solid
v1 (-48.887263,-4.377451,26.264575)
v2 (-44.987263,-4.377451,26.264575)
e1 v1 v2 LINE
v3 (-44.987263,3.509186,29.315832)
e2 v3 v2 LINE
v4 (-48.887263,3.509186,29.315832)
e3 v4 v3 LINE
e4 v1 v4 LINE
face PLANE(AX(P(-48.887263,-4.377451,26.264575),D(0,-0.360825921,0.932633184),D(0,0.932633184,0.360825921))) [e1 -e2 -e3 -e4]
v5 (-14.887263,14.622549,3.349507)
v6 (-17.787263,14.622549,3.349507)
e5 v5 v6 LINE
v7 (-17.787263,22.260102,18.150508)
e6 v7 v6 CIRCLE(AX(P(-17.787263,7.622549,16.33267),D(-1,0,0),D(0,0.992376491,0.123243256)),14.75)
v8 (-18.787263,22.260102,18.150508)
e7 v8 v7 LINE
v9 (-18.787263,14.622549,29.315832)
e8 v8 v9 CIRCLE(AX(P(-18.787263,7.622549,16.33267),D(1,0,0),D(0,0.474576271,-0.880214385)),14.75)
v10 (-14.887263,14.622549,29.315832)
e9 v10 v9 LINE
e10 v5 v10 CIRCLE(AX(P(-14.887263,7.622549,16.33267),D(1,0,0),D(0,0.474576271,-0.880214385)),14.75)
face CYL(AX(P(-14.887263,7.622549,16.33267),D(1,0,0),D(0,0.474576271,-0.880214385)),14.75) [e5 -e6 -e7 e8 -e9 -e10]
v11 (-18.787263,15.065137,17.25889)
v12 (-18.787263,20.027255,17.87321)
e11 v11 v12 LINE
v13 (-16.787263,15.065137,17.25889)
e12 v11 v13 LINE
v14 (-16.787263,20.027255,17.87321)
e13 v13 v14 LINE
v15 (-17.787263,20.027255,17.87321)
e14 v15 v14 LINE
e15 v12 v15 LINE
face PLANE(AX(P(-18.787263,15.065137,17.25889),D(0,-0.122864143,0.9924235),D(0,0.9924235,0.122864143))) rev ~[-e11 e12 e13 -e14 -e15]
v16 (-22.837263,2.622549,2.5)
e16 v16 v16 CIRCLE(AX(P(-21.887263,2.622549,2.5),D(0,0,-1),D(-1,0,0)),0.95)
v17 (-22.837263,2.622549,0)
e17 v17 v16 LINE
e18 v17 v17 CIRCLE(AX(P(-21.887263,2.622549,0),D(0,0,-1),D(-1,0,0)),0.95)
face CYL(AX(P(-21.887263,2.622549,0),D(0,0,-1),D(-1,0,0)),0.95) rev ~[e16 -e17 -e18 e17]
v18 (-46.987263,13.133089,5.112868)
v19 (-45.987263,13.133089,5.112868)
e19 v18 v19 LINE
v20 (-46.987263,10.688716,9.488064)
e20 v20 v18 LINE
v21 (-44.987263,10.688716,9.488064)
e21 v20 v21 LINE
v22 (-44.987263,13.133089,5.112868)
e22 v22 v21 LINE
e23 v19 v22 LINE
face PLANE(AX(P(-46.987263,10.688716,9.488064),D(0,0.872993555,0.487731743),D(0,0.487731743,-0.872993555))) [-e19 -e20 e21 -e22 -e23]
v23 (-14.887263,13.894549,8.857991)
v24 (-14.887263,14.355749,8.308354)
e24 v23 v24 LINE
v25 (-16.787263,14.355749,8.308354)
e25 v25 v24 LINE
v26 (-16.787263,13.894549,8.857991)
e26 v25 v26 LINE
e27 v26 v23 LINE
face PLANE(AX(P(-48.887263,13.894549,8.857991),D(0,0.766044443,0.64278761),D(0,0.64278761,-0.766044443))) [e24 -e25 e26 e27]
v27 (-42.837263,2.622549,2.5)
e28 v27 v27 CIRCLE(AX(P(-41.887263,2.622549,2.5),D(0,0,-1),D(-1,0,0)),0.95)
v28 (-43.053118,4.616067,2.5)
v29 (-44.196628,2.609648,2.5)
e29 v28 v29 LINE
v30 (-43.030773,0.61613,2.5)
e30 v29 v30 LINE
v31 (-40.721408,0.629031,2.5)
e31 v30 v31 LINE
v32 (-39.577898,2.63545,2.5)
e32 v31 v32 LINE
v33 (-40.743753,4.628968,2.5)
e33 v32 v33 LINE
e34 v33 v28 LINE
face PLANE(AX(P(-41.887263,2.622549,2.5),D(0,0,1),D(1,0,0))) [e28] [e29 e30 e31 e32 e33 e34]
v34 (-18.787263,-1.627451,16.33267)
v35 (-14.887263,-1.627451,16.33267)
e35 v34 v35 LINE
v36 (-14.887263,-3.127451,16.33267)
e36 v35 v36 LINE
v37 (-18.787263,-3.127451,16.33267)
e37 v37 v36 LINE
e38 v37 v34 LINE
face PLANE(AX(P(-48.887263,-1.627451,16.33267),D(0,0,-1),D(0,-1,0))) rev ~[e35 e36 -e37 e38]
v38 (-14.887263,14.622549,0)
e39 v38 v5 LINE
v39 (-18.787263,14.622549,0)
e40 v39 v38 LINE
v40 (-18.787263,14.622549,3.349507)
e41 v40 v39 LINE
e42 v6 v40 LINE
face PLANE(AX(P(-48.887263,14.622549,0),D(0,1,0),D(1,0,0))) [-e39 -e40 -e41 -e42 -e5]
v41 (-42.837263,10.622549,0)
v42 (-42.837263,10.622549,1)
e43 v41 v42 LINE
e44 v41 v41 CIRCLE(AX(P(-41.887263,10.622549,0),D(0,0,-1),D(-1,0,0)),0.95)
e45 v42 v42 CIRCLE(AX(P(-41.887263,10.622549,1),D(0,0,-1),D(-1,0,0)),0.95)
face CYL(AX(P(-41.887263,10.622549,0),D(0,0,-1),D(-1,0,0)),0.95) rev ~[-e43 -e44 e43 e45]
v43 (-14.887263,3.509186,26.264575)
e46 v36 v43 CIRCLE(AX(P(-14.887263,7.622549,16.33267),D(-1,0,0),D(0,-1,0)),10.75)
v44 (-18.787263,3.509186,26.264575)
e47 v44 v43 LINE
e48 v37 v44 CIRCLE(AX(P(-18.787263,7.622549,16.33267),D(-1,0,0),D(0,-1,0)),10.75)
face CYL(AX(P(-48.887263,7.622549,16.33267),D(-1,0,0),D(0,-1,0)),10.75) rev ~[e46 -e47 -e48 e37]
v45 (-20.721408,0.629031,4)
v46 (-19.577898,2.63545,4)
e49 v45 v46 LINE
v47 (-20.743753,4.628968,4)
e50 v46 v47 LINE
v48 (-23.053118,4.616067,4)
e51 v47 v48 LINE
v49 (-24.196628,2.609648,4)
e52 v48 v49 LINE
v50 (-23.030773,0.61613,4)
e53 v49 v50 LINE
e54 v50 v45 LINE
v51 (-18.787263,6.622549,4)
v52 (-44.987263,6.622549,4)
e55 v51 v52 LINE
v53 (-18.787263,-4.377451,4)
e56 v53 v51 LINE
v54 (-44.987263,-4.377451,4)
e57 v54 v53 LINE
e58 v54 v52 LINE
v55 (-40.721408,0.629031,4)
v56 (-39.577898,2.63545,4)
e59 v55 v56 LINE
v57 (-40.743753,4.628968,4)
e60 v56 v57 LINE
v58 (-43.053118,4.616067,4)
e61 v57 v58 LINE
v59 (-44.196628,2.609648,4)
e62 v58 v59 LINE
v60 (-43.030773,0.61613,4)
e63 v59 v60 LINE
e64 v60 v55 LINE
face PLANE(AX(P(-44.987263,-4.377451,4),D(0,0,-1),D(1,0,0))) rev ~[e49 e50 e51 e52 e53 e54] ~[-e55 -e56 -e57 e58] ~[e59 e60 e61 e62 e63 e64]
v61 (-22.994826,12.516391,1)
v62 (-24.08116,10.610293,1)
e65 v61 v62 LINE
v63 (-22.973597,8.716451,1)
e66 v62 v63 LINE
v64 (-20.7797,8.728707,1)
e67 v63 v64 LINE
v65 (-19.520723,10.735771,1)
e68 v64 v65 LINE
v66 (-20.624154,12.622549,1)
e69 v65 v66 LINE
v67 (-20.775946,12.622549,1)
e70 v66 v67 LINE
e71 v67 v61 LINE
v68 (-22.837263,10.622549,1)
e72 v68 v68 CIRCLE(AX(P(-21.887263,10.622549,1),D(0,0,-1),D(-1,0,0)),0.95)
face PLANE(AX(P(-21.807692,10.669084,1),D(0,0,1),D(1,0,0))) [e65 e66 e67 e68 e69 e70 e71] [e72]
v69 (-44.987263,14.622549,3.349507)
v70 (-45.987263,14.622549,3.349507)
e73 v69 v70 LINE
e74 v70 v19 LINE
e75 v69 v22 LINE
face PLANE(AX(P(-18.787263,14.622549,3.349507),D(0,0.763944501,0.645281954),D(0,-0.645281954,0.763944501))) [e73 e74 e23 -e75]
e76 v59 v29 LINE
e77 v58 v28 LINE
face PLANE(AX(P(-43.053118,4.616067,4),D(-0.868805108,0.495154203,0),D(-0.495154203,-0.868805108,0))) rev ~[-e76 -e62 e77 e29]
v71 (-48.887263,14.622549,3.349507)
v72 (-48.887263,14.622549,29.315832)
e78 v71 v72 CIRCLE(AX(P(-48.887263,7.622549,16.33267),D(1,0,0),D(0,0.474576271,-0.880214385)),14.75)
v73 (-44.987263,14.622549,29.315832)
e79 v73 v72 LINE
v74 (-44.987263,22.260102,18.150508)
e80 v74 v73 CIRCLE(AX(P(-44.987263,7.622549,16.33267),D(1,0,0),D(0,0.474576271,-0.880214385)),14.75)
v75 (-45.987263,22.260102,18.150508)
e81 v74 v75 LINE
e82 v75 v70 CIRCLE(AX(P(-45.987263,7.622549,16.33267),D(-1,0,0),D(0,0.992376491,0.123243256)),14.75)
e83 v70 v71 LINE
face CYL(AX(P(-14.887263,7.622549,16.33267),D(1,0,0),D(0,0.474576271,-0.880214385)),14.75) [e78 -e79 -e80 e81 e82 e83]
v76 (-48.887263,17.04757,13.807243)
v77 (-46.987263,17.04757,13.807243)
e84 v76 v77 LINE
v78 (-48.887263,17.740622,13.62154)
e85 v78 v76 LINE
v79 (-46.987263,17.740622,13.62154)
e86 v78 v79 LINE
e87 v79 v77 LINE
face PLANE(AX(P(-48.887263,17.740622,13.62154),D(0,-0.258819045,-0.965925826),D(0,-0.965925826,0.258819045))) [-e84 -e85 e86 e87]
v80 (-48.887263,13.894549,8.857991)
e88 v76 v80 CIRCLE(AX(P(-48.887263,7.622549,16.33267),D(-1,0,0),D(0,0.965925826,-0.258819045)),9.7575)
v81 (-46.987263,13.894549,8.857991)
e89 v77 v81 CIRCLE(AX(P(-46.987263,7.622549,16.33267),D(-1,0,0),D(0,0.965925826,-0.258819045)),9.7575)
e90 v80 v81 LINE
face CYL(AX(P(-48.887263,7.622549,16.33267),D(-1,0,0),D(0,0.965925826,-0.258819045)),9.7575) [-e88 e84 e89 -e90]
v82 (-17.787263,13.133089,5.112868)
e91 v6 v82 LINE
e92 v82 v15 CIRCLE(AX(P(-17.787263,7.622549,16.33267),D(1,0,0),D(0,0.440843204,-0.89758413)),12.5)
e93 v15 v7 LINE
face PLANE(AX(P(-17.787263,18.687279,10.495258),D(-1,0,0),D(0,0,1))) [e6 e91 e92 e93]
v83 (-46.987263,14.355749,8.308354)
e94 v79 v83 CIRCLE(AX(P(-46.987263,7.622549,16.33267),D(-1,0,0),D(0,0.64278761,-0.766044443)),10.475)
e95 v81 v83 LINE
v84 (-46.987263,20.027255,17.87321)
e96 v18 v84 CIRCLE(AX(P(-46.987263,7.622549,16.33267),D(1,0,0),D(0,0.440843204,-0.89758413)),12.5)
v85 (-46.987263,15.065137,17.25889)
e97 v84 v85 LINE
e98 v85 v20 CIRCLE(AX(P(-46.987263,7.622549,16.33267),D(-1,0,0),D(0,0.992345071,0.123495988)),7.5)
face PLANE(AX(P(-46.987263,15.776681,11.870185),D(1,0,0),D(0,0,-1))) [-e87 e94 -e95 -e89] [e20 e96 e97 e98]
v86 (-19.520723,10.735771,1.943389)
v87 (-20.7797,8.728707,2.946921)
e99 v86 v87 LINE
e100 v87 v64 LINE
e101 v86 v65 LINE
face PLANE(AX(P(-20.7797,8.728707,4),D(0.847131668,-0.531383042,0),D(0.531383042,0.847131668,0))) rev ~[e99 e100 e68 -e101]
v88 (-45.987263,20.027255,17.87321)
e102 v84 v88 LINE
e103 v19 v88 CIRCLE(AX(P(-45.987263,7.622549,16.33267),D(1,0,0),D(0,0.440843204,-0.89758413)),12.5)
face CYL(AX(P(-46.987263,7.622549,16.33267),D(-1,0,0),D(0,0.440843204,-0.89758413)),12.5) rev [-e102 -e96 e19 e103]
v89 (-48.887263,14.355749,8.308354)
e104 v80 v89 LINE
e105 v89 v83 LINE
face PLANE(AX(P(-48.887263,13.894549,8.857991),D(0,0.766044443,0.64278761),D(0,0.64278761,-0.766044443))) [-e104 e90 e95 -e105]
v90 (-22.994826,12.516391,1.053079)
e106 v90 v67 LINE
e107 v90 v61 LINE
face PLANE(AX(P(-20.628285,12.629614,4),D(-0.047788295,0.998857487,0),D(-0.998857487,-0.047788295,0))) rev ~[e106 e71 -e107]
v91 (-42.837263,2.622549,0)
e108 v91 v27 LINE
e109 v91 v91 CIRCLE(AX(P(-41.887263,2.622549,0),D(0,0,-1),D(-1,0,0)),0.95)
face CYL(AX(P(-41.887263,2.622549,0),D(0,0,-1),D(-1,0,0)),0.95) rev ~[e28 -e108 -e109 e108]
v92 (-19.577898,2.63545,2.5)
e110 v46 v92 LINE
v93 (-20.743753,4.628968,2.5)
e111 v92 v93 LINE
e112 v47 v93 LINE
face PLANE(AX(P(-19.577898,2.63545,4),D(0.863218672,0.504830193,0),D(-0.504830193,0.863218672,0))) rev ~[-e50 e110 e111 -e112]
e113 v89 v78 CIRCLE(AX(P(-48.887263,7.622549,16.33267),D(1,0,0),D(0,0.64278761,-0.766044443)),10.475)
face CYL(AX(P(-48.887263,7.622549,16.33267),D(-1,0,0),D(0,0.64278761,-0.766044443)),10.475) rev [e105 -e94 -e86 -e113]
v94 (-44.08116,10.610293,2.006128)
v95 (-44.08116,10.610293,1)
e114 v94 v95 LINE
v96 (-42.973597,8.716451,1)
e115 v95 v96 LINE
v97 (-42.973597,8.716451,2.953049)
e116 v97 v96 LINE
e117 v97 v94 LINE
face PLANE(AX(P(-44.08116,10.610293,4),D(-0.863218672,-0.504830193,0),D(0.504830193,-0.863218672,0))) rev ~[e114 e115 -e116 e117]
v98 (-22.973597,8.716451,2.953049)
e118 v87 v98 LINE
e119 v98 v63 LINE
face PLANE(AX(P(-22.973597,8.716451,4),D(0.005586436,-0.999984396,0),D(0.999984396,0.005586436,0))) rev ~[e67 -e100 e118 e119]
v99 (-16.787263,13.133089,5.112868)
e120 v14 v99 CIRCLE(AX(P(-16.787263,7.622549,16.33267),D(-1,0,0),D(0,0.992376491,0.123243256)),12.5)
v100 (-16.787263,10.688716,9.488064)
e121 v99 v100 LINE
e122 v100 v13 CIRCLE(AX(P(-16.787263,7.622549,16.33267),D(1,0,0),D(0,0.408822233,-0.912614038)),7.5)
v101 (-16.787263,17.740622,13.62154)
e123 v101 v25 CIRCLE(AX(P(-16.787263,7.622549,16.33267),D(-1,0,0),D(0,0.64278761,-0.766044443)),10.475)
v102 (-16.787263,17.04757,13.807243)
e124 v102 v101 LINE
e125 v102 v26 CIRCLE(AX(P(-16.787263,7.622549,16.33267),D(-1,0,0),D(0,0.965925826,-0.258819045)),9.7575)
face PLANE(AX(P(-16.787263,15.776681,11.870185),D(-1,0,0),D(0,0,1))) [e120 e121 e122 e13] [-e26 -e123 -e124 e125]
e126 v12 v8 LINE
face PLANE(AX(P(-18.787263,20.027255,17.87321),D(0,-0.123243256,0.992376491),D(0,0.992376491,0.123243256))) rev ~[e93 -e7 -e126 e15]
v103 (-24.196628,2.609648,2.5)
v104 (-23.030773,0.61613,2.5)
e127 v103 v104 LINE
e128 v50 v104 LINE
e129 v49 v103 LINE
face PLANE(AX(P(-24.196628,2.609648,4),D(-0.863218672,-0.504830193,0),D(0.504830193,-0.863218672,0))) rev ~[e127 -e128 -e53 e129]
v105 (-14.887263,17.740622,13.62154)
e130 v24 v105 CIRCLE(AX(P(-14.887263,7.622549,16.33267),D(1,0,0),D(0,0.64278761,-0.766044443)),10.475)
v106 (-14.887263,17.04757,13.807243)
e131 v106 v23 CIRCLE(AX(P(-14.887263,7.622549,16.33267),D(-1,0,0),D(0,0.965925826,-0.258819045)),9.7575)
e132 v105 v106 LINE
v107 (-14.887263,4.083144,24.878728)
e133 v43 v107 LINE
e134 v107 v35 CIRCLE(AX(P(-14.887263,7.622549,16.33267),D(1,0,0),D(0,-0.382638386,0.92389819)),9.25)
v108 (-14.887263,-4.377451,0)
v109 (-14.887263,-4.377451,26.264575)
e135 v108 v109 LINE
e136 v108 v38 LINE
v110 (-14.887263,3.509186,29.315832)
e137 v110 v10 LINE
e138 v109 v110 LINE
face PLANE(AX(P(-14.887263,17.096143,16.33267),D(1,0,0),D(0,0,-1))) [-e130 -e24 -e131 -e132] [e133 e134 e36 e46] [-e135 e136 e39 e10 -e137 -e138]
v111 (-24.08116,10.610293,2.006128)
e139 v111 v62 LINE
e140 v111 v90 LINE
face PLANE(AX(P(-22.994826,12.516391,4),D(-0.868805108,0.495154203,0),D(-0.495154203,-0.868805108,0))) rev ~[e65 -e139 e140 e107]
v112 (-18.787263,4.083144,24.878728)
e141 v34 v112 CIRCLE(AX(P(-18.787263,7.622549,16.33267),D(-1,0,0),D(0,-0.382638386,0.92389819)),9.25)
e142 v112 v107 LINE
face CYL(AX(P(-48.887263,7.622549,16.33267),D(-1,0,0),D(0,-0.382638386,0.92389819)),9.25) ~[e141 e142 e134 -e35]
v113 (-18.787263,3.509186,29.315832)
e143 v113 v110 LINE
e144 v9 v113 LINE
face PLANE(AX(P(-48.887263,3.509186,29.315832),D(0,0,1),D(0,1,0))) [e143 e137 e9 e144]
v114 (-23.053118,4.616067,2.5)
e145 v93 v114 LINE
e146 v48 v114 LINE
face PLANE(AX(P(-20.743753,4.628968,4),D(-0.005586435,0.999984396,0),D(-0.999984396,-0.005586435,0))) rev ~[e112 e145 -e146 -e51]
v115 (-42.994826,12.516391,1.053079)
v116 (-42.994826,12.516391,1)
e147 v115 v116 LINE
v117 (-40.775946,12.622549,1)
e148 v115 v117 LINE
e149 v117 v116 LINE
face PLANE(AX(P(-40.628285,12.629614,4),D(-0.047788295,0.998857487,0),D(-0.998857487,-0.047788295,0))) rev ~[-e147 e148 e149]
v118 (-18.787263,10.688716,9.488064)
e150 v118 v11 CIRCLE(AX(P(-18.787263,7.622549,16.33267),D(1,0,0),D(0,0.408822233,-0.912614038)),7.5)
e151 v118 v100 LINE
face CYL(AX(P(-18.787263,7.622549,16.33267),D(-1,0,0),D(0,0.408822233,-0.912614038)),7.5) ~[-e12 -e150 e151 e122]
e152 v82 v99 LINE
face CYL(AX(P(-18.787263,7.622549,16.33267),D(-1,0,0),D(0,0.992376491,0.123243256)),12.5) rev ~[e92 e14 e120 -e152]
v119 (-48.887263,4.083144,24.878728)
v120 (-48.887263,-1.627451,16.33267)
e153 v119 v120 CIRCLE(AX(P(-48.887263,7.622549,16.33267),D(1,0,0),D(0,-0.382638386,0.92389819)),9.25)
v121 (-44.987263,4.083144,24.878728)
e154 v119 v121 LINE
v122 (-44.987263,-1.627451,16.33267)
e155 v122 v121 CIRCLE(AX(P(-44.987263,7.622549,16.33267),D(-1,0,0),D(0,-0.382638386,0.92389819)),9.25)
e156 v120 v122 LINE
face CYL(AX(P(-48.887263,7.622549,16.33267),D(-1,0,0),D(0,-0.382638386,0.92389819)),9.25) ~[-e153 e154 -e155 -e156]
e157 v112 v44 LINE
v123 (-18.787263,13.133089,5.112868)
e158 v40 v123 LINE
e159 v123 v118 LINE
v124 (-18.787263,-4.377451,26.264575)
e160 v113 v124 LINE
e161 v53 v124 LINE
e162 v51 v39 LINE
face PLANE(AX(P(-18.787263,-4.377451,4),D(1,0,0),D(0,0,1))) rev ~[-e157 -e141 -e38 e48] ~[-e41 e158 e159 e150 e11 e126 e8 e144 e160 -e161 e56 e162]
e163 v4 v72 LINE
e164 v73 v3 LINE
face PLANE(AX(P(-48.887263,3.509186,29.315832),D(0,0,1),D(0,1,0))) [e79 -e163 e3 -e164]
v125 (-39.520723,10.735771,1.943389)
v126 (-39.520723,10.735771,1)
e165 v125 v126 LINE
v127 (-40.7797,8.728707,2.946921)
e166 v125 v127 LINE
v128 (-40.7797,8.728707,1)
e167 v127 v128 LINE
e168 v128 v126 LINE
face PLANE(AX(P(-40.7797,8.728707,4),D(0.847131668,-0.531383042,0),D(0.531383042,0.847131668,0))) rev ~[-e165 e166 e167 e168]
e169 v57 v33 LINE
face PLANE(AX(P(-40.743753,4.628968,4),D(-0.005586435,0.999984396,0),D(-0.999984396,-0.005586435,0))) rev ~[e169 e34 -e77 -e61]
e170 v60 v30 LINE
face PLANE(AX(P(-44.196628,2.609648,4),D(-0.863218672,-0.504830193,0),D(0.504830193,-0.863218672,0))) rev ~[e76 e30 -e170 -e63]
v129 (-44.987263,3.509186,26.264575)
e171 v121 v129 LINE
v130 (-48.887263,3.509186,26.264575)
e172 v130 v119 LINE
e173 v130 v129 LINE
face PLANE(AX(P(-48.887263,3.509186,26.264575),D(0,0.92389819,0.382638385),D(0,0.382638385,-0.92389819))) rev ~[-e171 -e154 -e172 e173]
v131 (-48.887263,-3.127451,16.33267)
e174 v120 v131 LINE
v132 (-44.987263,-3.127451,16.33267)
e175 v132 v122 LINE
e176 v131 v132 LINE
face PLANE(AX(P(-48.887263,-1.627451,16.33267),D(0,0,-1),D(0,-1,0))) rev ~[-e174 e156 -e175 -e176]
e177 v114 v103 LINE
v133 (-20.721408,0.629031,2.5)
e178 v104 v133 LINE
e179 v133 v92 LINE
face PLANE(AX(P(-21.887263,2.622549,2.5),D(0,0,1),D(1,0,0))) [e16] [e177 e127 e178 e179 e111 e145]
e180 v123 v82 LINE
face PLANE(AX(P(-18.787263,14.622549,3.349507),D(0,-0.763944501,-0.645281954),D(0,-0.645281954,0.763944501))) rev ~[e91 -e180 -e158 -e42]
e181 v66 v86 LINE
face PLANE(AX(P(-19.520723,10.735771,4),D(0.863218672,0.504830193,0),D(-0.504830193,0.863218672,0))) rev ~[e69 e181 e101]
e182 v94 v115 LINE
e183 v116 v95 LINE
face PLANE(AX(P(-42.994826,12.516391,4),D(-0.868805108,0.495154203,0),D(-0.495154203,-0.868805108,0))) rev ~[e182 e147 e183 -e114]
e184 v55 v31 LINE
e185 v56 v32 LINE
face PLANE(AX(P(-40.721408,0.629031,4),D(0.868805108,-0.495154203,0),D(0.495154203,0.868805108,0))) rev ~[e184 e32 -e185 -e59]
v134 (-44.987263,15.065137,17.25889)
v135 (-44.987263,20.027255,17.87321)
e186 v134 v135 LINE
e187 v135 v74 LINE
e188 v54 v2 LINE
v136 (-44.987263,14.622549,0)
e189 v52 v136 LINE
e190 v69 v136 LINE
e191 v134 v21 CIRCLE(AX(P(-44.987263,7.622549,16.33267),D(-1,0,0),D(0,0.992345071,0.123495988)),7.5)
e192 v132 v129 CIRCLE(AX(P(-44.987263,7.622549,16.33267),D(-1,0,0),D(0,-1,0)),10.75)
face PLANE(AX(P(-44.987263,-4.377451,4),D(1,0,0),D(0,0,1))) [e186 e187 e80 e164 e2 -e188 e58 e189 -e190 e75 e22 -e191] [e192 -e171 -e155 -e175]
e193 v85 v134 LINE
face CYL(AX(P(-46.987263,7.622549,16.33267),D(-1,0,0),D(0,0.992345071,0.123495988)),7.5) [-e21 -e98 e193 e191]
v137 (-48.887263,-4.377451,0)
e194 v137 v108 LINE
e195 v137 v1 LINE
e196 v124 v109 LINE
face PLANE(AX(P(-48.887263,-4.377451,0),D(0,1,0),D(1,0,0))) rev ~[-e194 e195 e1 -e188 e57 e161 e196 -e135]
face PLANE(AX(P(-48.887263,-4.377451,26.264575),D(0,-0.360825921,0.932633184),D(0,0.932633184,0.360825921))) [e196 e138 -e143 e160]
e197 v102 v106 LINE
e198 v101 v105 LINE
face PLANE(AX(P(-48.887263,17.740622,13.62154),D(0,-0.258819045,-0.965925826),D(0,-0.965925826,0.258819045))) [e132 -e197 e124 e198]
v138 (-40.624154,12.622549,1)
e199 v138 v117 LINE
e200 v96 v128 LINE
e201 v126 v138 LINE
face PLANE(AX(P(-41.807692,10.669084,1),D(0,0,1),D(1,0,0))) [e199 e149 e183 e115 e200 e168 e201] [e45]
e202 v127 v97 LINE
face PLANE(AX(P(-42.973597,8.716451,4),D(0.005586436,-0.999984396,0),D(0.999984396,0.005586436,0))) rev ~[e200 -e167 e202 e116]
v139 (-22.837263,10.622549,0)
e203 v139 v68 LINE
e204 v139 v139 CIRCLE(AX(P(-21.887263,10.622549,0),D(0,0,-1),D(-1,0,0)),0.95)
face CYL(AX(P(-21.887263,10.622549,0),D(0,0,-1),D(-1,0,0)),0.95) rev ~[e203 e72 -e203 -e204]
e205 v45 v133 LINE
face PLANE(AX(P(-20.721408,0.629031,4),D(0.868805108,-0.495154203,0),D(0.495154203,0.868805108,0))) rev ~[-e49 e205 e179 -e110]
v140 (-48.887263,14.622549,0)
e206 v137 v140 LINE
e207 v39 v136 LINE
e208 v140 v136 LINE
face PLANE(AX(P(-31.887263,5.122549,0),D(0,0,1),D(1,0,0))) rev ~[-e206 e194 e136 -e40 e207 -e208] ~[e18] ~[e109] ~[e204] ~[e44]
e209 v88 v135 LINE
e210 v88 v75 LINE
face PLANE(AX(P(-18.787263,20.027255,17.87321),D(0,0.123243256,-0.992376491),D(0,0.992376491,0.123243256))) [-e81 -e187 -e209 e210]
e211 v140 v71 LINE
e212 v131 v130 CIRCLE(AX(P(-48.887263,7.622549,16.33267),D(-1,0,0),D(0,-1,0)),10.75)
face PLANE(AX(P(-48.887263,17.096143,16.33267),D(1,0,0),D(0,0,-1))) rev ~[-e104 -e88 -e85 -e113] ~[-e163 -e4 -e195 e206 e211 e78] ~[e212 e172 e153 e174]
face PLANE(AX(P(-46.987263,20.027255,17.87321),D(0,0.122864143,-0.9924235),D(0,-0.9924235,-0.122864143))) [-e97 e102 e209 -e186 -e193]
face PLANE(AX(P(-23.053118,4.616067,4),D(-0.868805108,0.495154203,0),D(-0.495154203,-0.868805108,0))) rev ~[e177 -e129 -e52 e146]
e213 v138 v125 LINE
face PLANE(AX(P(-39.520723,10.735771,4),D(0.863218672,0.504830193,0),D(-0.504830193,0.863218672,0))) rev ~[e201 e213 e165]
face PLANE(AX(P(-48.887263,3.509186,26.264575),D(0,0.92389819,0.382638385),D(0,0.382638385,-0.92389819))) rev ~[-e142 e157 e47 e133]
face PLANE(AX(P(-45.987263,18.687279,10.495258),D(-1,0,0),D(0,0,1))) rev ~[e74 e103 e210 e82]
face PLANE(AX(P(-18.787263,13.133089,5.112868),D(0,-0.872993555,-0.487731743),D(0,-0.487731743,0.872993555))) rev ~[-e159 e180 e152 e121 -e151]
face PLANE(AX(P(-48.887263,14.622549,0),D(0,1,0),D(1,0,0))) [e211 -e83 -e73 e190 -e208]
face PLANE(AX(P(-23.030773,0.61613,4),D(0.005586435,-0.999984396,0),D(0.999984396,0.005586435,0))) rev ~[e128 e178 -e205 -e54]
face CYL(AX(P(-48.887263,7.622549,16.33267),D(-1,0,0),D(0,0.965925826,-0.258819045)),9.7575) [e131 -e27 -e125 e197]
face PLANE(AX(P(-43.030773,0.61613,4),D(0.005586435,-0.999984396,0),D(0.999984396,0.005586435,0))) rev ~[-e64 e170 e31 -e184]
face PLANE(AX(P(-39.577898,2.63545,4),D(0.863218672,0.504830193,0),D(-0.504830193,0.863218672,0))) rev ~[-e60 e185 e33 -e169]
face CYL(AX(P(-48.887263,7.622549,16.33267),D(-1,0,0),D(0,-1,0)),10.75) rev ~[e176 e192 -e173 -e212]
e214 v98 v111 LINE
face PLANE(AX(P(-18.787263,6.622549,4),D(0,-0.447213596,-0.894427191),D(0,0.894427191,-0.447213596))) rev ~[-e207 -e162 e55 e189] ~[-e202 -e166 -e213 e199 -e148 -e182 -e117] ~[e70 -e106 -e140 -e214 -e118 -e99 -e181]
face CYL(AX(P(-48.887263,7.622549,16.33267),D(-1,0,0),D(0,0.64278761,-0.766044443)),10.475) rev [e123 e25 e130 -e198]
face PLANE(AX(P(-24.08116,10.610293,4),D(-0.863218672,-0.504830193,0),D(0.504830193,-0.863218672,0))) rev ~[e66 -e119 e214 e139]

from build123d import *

# Parameters (mm, degrees)
CROQUIS1_W              = 34
CROQUIS1_H              = 19
SALIENTE_EXTRUIR1_DEPTH = 35
CROQUIS2_W              = 26.2
CROQUIS2_H              = 31
CORTAR_EXTRUIR1_DEPTH   = 25
CORTAR_EXTRUIR3_DEPTH   = 26.2
SALIENTE_EXTRUIR2_DEPTH = 34
CROQUIS10_W             = 26.2
CROQUIS10_H             = 25.966324345
CORTAR_EXTRUIR4_DEPTH   = 10
CORTAR_EXTRUIR5_START   = -34
CORTAR_EXTRUIR5_DEPTH   = 34
CORTAR_EXTRUIR6_DEPTH   = 2
CORTAR_EXTRUIR7_START   = 28.2
CORTAR_EXTRUIR7_DEPTH   = 28.2
CORTAR_EXTRUIR8_DEPTH   = 1
CORTAR_EXTRUIR9_DEPTH   = 27.2
CORTAR_EXTRUIR10_START  = -34
CORTAR_EXTRUIR10_DEPTH  = 34
CROQUIS18_R             = 0.95
CORTAR_EXTRUIR11_DEPTH  = 4
CORTAR_EXTRUIR12_DEPTH  = 1.5
CORTAR_EXTRUIR13_DEPTH  = 3


with BuildPart() as part:
    # Croquis1 → Saliente-Extruir1 (new body)
    with BuildSketch(Plane.XY):
        with Locations((-31.887263086, 5.12254902)):
            Rectangle(CROQUIS1_W, CROQUIS1_H)
    extrude(amount=SALIENTE_EXTRUIR1_DEPTH)

    # Croquis2 → Cortar-Extruir1 (cut)
    with BuildSketch(Plane.XZ.offset(4.37745098)):
        with Locations((-31.887263086, 19.5)):
            Rectangle(CROQUIS2_W, CROQUIS2_H)
    extrude(amount=-CORTAR_EXTRUIR1_DEPTH, mode=Mode.SUBTRACT)

    # Croquis4 → Cortar-Extruir3 (cut)
    with BuildSketch(Plane.ZY.offset(18.787263086)):
        Polygon((4, 14.62254902), (4, 6.62254902), (0, 14.62254902), align=None)
    extrude(amount=CORTAR_EXTRUIR3_DEPTH, mode=Mode.SUBTRACT)

    # Croquis9 → Saliente-Extruir2 (add)
    with BuildSketch(Plane(origin=(-14.887263086, 0, 0), x_dir=(0, 0, -1), z_dir=(1, 0, 0))):
        with BuildLine():
            Line((-29.315831827, 14.62254902), (-3.349507482, 14.62254902))
            ThreePointArc((-3.349507482, 14.62254902), (-16.332669655, 22.37254902), (-29.315831827, 14.62254902))
        make_face()
    extrude(amount=-SALIENTE_EXTRUIR2_DEPTH)

    # Croquis10 → Cortar-Extruir4 (cut)
    with BuildSketch(Plane.XZ.offset(-14.62254902)):
        with Locations((-31.887263086, 16.332669655)):
            Rectangle(CROQUIS10_W, CROQUIS10_H)
    extrude(amount=-CORTAR_EXTRUIR4_DEPTH, mode=Mode.SUBTRACT)

    # Croquis11 → Cortar-Extruir5 (cut)
    with BuildSketch(Plane(origin=(-14.887263086, 0, 0), x_dir=(0, 0, -1), z_dir=(1, 0, 0)).offset(CORTAR_EXTRUIR5_START)):
        with BuildLine():
            Line((-26.264575199, 3.509186373), (-24.878727914, 4.083143951))
            ThreePointArc((-24.878727914, 4.083143951), (-21.471881808, -0.068419609), (-16.332669655, -1.62745098))
            Line((-16.332669655, -1.62745098), (-16.332669655, -3.12745098))
            ThreePointArc((-16.332669655, -3.12745098), (-22.305267563, -1.31560371), (-26.264575199, 3.509186373))
        make_face()
        with BuildLine():
            Line((-13.621540157, 17.74062205), (-13.807242822, 17.04757027))
            ThreePointArc((-13.807242822, 17.04757027), (-11.089968726, 15.851941052), (-8.857991001, 13.894549121))
            Line((-8.857991001, 13.894549121), (-8.308354113, 14.355749231))
            ThreePointArc((-8.308354113, 14.355749231), (-10.704456257, 16.457074414), (-13.621540157, 17.74062205))
        make_face()
    extrude(amount=CORTAR_EXTRUIR5_DEPTH, mode=Mode.SUBTRACT)

    # Croquis12 → Cortar-Extruir6 (cut)
    with BuildSketch(Plane.ZY.offset(18.787263086)):
        with BuildLine():
            Line((17.258889566, 15.065137056), (17.873210354, 20.027255157))
            ThreePointArc((17.873210354, 20.027255157), (10.39091869, 18.620075808), (5.112868034, 13.133089064))
            Line((5.112868034, 13.133089064), (9.488064371, 10.688715764))
            ThreePointArc((9.488064371, 10.688715764), (12.652304566, 14.157448622), (17.258889566, 15.065137056))
        make_face()
    extrude(amount=-CORTAR_EXTRUIR6_DEPTH, mode=Mode.SUBTRACT)

    # Croquis14 → Cortar-Extruir7 (cut)
    with BuildSketch(Plane.ZY.offset(18.787263086).offset(CORTAR_EXTRUIR7_START)):
        with BuildLine():
            Line((17.873210354, 20.027255157), (17.258889566, 15.065137056))
            ThreePointArc((17.258889566, 15.065137056), (12.652304566, 14.157448622), (9.488064371, 10.688715764))
            Line((9.488064371, 10.688715764), (5.112868034, 13.133089064))
            ThreePointArc((5.112868034, 13.133089064), (10.39091869, 18.620075808), (17.873210354, 20.027255157))
        make_face()
    extrude(amount=-CORTAR_EXTRUIR7_DEPTH, mode=Mode.SUBTRACT)

    # Croquis15 → Cortar-Extruir8 (cut)
    with BuildSketch(Plane.ZY.offset(18.787263086)):
        with BuildLine():
            Line((17.873210354, 20.027255157), (18.15050768, 22.260102262))
            ThreePointArc((18.15050768, 22.260102262), (9.568856329, 20.730307382), (3.349507482, 14.62254902))
            Line((3.349507482, 14.62254902), (5.112868034, 13.133089064))
            ThreePointArc((5.112868034, 13.133089064), (10.39091869, 18.620075808), (17.873210354, 20.027255157))
        make_face()
    extrude(amount=-CORTAR_EXTRUIR8_DEPTH, mode=Mode.SUBTRACT)

    # Croquis15<2> → Cortar-Extruir9 (cut)
    with BuildSketch(Plane.ZY.offset(18.787263086)):
        with BuildLine():
            Line((17.873210354, 20.027255157), (18.15050768, 22.260102262))
            ThreePointArc((18.15050768, 22.260102262), (9.568856329, 20.730307382), (3.349507482, 14.62254902))
            Line((3.349507482, 14.62254902), (5.112868034, 13.133089064))
            ThreePointArc((5.112868034, 13.133089064), (10.39091869, 18.620075808), (17.873210354, 20.027255157))
        make_face()
    extrude(amount=CORTAR_EXTRUIR9_DEPTH, mode=Mode.SUBTRACT)

    # Croquis17 → Cortar-Extruir10 (cut)
    with BuildSketch(Plane(origin=(-14.887263086, 0, 0), x_dir=(0, 0, -1), z_dir=(1, 0, 0)).offset(CORTAR_EXTRUIR10_START)):
        Polygon((-29.315831827, 3.509186373), (-29.315831827, 14.62254902), (-35, 14.62254902), (-35, -4.37745098), (-26.264575199, -4.37745098), align=None)
    extrude(amount=CORTAR_EXTRUIR10_DEPTH, mode=Mode.SUBTRACT)

    # Croquis18 → Cortar-Extruir11 (cut)
    with BuildSketch(Plane(origin=(0, 0, 0), x_dir=(-1, 0, 0), z_dir=(0, 0, -1))):
        with Locations((41.887263086, 2.62254902)):
            Circle(CROQUIS18_R)
        with Locations((21.887263086, 2.62254902)):
            Circle(CROQUIS18_R)
        with Locations((21.887263086, 10.62254902)):
            Circle(CROQUIS18_R)
        with Locations((41.887263086, 10.62254902)):
            Circle(CROQUIS18_R)
    extrude(amount=-CORTAR_EXTRUIR11_DEPTH, mode=Mode.SUBTRACT)

    # Croquis19 → Cortar-Extruir12 (cut)
    with BuildSketch(Plane.XY.offset(4)):
        Polygon((-43.030772734, 0.616129568), (-40.721407694, 0.629030888), (-39.577898045, 2.63545034), (-40.743753437, 4.628968471), (-43.053118477, 4.616067151), (-44.196628126, 2.609647699), align=None)
        Polygon((-23.030772734, 0.616129568), (-20.721407694, 0.629030888), (-19.577898045, 2.63545034), (-20.743753437, 4.628968471), (-23.053118477, 4.616067151), (-24.196628126, 2.609647699), align=None)
    extrude(amount=-CORTAR_EXTRUIR12_DEPTH, mode=Mode.SUBTRACT)

    # Croquis20 → Cortar-Extruir13 (cut)
    with BuildSketch(Plane.XY.offset(4)):
        Polygon((-44.081159874, 10.610292765), (-42.973597252, 8.71645054), (-40.779700463, 8.728706795), (-39.520722563, 10.735771313), (-40.628285185, 12.629613538), (-42.994825708, 12.516391244), align=None)
        Polygon((-24.081159874, 10.610292765), (-22.973597252, 8.71645054), (-20.779700463, 8.728706795), (-19.520722563, 10.735771313), (-20.628285185, 12.629613538), (-22.994825708, 12.516391244), align=None)
    extrude(amount=-CORTAR_EXTRUIR13_DEPTH, mode=Mode.SUBTRACT)


solid = part.part
